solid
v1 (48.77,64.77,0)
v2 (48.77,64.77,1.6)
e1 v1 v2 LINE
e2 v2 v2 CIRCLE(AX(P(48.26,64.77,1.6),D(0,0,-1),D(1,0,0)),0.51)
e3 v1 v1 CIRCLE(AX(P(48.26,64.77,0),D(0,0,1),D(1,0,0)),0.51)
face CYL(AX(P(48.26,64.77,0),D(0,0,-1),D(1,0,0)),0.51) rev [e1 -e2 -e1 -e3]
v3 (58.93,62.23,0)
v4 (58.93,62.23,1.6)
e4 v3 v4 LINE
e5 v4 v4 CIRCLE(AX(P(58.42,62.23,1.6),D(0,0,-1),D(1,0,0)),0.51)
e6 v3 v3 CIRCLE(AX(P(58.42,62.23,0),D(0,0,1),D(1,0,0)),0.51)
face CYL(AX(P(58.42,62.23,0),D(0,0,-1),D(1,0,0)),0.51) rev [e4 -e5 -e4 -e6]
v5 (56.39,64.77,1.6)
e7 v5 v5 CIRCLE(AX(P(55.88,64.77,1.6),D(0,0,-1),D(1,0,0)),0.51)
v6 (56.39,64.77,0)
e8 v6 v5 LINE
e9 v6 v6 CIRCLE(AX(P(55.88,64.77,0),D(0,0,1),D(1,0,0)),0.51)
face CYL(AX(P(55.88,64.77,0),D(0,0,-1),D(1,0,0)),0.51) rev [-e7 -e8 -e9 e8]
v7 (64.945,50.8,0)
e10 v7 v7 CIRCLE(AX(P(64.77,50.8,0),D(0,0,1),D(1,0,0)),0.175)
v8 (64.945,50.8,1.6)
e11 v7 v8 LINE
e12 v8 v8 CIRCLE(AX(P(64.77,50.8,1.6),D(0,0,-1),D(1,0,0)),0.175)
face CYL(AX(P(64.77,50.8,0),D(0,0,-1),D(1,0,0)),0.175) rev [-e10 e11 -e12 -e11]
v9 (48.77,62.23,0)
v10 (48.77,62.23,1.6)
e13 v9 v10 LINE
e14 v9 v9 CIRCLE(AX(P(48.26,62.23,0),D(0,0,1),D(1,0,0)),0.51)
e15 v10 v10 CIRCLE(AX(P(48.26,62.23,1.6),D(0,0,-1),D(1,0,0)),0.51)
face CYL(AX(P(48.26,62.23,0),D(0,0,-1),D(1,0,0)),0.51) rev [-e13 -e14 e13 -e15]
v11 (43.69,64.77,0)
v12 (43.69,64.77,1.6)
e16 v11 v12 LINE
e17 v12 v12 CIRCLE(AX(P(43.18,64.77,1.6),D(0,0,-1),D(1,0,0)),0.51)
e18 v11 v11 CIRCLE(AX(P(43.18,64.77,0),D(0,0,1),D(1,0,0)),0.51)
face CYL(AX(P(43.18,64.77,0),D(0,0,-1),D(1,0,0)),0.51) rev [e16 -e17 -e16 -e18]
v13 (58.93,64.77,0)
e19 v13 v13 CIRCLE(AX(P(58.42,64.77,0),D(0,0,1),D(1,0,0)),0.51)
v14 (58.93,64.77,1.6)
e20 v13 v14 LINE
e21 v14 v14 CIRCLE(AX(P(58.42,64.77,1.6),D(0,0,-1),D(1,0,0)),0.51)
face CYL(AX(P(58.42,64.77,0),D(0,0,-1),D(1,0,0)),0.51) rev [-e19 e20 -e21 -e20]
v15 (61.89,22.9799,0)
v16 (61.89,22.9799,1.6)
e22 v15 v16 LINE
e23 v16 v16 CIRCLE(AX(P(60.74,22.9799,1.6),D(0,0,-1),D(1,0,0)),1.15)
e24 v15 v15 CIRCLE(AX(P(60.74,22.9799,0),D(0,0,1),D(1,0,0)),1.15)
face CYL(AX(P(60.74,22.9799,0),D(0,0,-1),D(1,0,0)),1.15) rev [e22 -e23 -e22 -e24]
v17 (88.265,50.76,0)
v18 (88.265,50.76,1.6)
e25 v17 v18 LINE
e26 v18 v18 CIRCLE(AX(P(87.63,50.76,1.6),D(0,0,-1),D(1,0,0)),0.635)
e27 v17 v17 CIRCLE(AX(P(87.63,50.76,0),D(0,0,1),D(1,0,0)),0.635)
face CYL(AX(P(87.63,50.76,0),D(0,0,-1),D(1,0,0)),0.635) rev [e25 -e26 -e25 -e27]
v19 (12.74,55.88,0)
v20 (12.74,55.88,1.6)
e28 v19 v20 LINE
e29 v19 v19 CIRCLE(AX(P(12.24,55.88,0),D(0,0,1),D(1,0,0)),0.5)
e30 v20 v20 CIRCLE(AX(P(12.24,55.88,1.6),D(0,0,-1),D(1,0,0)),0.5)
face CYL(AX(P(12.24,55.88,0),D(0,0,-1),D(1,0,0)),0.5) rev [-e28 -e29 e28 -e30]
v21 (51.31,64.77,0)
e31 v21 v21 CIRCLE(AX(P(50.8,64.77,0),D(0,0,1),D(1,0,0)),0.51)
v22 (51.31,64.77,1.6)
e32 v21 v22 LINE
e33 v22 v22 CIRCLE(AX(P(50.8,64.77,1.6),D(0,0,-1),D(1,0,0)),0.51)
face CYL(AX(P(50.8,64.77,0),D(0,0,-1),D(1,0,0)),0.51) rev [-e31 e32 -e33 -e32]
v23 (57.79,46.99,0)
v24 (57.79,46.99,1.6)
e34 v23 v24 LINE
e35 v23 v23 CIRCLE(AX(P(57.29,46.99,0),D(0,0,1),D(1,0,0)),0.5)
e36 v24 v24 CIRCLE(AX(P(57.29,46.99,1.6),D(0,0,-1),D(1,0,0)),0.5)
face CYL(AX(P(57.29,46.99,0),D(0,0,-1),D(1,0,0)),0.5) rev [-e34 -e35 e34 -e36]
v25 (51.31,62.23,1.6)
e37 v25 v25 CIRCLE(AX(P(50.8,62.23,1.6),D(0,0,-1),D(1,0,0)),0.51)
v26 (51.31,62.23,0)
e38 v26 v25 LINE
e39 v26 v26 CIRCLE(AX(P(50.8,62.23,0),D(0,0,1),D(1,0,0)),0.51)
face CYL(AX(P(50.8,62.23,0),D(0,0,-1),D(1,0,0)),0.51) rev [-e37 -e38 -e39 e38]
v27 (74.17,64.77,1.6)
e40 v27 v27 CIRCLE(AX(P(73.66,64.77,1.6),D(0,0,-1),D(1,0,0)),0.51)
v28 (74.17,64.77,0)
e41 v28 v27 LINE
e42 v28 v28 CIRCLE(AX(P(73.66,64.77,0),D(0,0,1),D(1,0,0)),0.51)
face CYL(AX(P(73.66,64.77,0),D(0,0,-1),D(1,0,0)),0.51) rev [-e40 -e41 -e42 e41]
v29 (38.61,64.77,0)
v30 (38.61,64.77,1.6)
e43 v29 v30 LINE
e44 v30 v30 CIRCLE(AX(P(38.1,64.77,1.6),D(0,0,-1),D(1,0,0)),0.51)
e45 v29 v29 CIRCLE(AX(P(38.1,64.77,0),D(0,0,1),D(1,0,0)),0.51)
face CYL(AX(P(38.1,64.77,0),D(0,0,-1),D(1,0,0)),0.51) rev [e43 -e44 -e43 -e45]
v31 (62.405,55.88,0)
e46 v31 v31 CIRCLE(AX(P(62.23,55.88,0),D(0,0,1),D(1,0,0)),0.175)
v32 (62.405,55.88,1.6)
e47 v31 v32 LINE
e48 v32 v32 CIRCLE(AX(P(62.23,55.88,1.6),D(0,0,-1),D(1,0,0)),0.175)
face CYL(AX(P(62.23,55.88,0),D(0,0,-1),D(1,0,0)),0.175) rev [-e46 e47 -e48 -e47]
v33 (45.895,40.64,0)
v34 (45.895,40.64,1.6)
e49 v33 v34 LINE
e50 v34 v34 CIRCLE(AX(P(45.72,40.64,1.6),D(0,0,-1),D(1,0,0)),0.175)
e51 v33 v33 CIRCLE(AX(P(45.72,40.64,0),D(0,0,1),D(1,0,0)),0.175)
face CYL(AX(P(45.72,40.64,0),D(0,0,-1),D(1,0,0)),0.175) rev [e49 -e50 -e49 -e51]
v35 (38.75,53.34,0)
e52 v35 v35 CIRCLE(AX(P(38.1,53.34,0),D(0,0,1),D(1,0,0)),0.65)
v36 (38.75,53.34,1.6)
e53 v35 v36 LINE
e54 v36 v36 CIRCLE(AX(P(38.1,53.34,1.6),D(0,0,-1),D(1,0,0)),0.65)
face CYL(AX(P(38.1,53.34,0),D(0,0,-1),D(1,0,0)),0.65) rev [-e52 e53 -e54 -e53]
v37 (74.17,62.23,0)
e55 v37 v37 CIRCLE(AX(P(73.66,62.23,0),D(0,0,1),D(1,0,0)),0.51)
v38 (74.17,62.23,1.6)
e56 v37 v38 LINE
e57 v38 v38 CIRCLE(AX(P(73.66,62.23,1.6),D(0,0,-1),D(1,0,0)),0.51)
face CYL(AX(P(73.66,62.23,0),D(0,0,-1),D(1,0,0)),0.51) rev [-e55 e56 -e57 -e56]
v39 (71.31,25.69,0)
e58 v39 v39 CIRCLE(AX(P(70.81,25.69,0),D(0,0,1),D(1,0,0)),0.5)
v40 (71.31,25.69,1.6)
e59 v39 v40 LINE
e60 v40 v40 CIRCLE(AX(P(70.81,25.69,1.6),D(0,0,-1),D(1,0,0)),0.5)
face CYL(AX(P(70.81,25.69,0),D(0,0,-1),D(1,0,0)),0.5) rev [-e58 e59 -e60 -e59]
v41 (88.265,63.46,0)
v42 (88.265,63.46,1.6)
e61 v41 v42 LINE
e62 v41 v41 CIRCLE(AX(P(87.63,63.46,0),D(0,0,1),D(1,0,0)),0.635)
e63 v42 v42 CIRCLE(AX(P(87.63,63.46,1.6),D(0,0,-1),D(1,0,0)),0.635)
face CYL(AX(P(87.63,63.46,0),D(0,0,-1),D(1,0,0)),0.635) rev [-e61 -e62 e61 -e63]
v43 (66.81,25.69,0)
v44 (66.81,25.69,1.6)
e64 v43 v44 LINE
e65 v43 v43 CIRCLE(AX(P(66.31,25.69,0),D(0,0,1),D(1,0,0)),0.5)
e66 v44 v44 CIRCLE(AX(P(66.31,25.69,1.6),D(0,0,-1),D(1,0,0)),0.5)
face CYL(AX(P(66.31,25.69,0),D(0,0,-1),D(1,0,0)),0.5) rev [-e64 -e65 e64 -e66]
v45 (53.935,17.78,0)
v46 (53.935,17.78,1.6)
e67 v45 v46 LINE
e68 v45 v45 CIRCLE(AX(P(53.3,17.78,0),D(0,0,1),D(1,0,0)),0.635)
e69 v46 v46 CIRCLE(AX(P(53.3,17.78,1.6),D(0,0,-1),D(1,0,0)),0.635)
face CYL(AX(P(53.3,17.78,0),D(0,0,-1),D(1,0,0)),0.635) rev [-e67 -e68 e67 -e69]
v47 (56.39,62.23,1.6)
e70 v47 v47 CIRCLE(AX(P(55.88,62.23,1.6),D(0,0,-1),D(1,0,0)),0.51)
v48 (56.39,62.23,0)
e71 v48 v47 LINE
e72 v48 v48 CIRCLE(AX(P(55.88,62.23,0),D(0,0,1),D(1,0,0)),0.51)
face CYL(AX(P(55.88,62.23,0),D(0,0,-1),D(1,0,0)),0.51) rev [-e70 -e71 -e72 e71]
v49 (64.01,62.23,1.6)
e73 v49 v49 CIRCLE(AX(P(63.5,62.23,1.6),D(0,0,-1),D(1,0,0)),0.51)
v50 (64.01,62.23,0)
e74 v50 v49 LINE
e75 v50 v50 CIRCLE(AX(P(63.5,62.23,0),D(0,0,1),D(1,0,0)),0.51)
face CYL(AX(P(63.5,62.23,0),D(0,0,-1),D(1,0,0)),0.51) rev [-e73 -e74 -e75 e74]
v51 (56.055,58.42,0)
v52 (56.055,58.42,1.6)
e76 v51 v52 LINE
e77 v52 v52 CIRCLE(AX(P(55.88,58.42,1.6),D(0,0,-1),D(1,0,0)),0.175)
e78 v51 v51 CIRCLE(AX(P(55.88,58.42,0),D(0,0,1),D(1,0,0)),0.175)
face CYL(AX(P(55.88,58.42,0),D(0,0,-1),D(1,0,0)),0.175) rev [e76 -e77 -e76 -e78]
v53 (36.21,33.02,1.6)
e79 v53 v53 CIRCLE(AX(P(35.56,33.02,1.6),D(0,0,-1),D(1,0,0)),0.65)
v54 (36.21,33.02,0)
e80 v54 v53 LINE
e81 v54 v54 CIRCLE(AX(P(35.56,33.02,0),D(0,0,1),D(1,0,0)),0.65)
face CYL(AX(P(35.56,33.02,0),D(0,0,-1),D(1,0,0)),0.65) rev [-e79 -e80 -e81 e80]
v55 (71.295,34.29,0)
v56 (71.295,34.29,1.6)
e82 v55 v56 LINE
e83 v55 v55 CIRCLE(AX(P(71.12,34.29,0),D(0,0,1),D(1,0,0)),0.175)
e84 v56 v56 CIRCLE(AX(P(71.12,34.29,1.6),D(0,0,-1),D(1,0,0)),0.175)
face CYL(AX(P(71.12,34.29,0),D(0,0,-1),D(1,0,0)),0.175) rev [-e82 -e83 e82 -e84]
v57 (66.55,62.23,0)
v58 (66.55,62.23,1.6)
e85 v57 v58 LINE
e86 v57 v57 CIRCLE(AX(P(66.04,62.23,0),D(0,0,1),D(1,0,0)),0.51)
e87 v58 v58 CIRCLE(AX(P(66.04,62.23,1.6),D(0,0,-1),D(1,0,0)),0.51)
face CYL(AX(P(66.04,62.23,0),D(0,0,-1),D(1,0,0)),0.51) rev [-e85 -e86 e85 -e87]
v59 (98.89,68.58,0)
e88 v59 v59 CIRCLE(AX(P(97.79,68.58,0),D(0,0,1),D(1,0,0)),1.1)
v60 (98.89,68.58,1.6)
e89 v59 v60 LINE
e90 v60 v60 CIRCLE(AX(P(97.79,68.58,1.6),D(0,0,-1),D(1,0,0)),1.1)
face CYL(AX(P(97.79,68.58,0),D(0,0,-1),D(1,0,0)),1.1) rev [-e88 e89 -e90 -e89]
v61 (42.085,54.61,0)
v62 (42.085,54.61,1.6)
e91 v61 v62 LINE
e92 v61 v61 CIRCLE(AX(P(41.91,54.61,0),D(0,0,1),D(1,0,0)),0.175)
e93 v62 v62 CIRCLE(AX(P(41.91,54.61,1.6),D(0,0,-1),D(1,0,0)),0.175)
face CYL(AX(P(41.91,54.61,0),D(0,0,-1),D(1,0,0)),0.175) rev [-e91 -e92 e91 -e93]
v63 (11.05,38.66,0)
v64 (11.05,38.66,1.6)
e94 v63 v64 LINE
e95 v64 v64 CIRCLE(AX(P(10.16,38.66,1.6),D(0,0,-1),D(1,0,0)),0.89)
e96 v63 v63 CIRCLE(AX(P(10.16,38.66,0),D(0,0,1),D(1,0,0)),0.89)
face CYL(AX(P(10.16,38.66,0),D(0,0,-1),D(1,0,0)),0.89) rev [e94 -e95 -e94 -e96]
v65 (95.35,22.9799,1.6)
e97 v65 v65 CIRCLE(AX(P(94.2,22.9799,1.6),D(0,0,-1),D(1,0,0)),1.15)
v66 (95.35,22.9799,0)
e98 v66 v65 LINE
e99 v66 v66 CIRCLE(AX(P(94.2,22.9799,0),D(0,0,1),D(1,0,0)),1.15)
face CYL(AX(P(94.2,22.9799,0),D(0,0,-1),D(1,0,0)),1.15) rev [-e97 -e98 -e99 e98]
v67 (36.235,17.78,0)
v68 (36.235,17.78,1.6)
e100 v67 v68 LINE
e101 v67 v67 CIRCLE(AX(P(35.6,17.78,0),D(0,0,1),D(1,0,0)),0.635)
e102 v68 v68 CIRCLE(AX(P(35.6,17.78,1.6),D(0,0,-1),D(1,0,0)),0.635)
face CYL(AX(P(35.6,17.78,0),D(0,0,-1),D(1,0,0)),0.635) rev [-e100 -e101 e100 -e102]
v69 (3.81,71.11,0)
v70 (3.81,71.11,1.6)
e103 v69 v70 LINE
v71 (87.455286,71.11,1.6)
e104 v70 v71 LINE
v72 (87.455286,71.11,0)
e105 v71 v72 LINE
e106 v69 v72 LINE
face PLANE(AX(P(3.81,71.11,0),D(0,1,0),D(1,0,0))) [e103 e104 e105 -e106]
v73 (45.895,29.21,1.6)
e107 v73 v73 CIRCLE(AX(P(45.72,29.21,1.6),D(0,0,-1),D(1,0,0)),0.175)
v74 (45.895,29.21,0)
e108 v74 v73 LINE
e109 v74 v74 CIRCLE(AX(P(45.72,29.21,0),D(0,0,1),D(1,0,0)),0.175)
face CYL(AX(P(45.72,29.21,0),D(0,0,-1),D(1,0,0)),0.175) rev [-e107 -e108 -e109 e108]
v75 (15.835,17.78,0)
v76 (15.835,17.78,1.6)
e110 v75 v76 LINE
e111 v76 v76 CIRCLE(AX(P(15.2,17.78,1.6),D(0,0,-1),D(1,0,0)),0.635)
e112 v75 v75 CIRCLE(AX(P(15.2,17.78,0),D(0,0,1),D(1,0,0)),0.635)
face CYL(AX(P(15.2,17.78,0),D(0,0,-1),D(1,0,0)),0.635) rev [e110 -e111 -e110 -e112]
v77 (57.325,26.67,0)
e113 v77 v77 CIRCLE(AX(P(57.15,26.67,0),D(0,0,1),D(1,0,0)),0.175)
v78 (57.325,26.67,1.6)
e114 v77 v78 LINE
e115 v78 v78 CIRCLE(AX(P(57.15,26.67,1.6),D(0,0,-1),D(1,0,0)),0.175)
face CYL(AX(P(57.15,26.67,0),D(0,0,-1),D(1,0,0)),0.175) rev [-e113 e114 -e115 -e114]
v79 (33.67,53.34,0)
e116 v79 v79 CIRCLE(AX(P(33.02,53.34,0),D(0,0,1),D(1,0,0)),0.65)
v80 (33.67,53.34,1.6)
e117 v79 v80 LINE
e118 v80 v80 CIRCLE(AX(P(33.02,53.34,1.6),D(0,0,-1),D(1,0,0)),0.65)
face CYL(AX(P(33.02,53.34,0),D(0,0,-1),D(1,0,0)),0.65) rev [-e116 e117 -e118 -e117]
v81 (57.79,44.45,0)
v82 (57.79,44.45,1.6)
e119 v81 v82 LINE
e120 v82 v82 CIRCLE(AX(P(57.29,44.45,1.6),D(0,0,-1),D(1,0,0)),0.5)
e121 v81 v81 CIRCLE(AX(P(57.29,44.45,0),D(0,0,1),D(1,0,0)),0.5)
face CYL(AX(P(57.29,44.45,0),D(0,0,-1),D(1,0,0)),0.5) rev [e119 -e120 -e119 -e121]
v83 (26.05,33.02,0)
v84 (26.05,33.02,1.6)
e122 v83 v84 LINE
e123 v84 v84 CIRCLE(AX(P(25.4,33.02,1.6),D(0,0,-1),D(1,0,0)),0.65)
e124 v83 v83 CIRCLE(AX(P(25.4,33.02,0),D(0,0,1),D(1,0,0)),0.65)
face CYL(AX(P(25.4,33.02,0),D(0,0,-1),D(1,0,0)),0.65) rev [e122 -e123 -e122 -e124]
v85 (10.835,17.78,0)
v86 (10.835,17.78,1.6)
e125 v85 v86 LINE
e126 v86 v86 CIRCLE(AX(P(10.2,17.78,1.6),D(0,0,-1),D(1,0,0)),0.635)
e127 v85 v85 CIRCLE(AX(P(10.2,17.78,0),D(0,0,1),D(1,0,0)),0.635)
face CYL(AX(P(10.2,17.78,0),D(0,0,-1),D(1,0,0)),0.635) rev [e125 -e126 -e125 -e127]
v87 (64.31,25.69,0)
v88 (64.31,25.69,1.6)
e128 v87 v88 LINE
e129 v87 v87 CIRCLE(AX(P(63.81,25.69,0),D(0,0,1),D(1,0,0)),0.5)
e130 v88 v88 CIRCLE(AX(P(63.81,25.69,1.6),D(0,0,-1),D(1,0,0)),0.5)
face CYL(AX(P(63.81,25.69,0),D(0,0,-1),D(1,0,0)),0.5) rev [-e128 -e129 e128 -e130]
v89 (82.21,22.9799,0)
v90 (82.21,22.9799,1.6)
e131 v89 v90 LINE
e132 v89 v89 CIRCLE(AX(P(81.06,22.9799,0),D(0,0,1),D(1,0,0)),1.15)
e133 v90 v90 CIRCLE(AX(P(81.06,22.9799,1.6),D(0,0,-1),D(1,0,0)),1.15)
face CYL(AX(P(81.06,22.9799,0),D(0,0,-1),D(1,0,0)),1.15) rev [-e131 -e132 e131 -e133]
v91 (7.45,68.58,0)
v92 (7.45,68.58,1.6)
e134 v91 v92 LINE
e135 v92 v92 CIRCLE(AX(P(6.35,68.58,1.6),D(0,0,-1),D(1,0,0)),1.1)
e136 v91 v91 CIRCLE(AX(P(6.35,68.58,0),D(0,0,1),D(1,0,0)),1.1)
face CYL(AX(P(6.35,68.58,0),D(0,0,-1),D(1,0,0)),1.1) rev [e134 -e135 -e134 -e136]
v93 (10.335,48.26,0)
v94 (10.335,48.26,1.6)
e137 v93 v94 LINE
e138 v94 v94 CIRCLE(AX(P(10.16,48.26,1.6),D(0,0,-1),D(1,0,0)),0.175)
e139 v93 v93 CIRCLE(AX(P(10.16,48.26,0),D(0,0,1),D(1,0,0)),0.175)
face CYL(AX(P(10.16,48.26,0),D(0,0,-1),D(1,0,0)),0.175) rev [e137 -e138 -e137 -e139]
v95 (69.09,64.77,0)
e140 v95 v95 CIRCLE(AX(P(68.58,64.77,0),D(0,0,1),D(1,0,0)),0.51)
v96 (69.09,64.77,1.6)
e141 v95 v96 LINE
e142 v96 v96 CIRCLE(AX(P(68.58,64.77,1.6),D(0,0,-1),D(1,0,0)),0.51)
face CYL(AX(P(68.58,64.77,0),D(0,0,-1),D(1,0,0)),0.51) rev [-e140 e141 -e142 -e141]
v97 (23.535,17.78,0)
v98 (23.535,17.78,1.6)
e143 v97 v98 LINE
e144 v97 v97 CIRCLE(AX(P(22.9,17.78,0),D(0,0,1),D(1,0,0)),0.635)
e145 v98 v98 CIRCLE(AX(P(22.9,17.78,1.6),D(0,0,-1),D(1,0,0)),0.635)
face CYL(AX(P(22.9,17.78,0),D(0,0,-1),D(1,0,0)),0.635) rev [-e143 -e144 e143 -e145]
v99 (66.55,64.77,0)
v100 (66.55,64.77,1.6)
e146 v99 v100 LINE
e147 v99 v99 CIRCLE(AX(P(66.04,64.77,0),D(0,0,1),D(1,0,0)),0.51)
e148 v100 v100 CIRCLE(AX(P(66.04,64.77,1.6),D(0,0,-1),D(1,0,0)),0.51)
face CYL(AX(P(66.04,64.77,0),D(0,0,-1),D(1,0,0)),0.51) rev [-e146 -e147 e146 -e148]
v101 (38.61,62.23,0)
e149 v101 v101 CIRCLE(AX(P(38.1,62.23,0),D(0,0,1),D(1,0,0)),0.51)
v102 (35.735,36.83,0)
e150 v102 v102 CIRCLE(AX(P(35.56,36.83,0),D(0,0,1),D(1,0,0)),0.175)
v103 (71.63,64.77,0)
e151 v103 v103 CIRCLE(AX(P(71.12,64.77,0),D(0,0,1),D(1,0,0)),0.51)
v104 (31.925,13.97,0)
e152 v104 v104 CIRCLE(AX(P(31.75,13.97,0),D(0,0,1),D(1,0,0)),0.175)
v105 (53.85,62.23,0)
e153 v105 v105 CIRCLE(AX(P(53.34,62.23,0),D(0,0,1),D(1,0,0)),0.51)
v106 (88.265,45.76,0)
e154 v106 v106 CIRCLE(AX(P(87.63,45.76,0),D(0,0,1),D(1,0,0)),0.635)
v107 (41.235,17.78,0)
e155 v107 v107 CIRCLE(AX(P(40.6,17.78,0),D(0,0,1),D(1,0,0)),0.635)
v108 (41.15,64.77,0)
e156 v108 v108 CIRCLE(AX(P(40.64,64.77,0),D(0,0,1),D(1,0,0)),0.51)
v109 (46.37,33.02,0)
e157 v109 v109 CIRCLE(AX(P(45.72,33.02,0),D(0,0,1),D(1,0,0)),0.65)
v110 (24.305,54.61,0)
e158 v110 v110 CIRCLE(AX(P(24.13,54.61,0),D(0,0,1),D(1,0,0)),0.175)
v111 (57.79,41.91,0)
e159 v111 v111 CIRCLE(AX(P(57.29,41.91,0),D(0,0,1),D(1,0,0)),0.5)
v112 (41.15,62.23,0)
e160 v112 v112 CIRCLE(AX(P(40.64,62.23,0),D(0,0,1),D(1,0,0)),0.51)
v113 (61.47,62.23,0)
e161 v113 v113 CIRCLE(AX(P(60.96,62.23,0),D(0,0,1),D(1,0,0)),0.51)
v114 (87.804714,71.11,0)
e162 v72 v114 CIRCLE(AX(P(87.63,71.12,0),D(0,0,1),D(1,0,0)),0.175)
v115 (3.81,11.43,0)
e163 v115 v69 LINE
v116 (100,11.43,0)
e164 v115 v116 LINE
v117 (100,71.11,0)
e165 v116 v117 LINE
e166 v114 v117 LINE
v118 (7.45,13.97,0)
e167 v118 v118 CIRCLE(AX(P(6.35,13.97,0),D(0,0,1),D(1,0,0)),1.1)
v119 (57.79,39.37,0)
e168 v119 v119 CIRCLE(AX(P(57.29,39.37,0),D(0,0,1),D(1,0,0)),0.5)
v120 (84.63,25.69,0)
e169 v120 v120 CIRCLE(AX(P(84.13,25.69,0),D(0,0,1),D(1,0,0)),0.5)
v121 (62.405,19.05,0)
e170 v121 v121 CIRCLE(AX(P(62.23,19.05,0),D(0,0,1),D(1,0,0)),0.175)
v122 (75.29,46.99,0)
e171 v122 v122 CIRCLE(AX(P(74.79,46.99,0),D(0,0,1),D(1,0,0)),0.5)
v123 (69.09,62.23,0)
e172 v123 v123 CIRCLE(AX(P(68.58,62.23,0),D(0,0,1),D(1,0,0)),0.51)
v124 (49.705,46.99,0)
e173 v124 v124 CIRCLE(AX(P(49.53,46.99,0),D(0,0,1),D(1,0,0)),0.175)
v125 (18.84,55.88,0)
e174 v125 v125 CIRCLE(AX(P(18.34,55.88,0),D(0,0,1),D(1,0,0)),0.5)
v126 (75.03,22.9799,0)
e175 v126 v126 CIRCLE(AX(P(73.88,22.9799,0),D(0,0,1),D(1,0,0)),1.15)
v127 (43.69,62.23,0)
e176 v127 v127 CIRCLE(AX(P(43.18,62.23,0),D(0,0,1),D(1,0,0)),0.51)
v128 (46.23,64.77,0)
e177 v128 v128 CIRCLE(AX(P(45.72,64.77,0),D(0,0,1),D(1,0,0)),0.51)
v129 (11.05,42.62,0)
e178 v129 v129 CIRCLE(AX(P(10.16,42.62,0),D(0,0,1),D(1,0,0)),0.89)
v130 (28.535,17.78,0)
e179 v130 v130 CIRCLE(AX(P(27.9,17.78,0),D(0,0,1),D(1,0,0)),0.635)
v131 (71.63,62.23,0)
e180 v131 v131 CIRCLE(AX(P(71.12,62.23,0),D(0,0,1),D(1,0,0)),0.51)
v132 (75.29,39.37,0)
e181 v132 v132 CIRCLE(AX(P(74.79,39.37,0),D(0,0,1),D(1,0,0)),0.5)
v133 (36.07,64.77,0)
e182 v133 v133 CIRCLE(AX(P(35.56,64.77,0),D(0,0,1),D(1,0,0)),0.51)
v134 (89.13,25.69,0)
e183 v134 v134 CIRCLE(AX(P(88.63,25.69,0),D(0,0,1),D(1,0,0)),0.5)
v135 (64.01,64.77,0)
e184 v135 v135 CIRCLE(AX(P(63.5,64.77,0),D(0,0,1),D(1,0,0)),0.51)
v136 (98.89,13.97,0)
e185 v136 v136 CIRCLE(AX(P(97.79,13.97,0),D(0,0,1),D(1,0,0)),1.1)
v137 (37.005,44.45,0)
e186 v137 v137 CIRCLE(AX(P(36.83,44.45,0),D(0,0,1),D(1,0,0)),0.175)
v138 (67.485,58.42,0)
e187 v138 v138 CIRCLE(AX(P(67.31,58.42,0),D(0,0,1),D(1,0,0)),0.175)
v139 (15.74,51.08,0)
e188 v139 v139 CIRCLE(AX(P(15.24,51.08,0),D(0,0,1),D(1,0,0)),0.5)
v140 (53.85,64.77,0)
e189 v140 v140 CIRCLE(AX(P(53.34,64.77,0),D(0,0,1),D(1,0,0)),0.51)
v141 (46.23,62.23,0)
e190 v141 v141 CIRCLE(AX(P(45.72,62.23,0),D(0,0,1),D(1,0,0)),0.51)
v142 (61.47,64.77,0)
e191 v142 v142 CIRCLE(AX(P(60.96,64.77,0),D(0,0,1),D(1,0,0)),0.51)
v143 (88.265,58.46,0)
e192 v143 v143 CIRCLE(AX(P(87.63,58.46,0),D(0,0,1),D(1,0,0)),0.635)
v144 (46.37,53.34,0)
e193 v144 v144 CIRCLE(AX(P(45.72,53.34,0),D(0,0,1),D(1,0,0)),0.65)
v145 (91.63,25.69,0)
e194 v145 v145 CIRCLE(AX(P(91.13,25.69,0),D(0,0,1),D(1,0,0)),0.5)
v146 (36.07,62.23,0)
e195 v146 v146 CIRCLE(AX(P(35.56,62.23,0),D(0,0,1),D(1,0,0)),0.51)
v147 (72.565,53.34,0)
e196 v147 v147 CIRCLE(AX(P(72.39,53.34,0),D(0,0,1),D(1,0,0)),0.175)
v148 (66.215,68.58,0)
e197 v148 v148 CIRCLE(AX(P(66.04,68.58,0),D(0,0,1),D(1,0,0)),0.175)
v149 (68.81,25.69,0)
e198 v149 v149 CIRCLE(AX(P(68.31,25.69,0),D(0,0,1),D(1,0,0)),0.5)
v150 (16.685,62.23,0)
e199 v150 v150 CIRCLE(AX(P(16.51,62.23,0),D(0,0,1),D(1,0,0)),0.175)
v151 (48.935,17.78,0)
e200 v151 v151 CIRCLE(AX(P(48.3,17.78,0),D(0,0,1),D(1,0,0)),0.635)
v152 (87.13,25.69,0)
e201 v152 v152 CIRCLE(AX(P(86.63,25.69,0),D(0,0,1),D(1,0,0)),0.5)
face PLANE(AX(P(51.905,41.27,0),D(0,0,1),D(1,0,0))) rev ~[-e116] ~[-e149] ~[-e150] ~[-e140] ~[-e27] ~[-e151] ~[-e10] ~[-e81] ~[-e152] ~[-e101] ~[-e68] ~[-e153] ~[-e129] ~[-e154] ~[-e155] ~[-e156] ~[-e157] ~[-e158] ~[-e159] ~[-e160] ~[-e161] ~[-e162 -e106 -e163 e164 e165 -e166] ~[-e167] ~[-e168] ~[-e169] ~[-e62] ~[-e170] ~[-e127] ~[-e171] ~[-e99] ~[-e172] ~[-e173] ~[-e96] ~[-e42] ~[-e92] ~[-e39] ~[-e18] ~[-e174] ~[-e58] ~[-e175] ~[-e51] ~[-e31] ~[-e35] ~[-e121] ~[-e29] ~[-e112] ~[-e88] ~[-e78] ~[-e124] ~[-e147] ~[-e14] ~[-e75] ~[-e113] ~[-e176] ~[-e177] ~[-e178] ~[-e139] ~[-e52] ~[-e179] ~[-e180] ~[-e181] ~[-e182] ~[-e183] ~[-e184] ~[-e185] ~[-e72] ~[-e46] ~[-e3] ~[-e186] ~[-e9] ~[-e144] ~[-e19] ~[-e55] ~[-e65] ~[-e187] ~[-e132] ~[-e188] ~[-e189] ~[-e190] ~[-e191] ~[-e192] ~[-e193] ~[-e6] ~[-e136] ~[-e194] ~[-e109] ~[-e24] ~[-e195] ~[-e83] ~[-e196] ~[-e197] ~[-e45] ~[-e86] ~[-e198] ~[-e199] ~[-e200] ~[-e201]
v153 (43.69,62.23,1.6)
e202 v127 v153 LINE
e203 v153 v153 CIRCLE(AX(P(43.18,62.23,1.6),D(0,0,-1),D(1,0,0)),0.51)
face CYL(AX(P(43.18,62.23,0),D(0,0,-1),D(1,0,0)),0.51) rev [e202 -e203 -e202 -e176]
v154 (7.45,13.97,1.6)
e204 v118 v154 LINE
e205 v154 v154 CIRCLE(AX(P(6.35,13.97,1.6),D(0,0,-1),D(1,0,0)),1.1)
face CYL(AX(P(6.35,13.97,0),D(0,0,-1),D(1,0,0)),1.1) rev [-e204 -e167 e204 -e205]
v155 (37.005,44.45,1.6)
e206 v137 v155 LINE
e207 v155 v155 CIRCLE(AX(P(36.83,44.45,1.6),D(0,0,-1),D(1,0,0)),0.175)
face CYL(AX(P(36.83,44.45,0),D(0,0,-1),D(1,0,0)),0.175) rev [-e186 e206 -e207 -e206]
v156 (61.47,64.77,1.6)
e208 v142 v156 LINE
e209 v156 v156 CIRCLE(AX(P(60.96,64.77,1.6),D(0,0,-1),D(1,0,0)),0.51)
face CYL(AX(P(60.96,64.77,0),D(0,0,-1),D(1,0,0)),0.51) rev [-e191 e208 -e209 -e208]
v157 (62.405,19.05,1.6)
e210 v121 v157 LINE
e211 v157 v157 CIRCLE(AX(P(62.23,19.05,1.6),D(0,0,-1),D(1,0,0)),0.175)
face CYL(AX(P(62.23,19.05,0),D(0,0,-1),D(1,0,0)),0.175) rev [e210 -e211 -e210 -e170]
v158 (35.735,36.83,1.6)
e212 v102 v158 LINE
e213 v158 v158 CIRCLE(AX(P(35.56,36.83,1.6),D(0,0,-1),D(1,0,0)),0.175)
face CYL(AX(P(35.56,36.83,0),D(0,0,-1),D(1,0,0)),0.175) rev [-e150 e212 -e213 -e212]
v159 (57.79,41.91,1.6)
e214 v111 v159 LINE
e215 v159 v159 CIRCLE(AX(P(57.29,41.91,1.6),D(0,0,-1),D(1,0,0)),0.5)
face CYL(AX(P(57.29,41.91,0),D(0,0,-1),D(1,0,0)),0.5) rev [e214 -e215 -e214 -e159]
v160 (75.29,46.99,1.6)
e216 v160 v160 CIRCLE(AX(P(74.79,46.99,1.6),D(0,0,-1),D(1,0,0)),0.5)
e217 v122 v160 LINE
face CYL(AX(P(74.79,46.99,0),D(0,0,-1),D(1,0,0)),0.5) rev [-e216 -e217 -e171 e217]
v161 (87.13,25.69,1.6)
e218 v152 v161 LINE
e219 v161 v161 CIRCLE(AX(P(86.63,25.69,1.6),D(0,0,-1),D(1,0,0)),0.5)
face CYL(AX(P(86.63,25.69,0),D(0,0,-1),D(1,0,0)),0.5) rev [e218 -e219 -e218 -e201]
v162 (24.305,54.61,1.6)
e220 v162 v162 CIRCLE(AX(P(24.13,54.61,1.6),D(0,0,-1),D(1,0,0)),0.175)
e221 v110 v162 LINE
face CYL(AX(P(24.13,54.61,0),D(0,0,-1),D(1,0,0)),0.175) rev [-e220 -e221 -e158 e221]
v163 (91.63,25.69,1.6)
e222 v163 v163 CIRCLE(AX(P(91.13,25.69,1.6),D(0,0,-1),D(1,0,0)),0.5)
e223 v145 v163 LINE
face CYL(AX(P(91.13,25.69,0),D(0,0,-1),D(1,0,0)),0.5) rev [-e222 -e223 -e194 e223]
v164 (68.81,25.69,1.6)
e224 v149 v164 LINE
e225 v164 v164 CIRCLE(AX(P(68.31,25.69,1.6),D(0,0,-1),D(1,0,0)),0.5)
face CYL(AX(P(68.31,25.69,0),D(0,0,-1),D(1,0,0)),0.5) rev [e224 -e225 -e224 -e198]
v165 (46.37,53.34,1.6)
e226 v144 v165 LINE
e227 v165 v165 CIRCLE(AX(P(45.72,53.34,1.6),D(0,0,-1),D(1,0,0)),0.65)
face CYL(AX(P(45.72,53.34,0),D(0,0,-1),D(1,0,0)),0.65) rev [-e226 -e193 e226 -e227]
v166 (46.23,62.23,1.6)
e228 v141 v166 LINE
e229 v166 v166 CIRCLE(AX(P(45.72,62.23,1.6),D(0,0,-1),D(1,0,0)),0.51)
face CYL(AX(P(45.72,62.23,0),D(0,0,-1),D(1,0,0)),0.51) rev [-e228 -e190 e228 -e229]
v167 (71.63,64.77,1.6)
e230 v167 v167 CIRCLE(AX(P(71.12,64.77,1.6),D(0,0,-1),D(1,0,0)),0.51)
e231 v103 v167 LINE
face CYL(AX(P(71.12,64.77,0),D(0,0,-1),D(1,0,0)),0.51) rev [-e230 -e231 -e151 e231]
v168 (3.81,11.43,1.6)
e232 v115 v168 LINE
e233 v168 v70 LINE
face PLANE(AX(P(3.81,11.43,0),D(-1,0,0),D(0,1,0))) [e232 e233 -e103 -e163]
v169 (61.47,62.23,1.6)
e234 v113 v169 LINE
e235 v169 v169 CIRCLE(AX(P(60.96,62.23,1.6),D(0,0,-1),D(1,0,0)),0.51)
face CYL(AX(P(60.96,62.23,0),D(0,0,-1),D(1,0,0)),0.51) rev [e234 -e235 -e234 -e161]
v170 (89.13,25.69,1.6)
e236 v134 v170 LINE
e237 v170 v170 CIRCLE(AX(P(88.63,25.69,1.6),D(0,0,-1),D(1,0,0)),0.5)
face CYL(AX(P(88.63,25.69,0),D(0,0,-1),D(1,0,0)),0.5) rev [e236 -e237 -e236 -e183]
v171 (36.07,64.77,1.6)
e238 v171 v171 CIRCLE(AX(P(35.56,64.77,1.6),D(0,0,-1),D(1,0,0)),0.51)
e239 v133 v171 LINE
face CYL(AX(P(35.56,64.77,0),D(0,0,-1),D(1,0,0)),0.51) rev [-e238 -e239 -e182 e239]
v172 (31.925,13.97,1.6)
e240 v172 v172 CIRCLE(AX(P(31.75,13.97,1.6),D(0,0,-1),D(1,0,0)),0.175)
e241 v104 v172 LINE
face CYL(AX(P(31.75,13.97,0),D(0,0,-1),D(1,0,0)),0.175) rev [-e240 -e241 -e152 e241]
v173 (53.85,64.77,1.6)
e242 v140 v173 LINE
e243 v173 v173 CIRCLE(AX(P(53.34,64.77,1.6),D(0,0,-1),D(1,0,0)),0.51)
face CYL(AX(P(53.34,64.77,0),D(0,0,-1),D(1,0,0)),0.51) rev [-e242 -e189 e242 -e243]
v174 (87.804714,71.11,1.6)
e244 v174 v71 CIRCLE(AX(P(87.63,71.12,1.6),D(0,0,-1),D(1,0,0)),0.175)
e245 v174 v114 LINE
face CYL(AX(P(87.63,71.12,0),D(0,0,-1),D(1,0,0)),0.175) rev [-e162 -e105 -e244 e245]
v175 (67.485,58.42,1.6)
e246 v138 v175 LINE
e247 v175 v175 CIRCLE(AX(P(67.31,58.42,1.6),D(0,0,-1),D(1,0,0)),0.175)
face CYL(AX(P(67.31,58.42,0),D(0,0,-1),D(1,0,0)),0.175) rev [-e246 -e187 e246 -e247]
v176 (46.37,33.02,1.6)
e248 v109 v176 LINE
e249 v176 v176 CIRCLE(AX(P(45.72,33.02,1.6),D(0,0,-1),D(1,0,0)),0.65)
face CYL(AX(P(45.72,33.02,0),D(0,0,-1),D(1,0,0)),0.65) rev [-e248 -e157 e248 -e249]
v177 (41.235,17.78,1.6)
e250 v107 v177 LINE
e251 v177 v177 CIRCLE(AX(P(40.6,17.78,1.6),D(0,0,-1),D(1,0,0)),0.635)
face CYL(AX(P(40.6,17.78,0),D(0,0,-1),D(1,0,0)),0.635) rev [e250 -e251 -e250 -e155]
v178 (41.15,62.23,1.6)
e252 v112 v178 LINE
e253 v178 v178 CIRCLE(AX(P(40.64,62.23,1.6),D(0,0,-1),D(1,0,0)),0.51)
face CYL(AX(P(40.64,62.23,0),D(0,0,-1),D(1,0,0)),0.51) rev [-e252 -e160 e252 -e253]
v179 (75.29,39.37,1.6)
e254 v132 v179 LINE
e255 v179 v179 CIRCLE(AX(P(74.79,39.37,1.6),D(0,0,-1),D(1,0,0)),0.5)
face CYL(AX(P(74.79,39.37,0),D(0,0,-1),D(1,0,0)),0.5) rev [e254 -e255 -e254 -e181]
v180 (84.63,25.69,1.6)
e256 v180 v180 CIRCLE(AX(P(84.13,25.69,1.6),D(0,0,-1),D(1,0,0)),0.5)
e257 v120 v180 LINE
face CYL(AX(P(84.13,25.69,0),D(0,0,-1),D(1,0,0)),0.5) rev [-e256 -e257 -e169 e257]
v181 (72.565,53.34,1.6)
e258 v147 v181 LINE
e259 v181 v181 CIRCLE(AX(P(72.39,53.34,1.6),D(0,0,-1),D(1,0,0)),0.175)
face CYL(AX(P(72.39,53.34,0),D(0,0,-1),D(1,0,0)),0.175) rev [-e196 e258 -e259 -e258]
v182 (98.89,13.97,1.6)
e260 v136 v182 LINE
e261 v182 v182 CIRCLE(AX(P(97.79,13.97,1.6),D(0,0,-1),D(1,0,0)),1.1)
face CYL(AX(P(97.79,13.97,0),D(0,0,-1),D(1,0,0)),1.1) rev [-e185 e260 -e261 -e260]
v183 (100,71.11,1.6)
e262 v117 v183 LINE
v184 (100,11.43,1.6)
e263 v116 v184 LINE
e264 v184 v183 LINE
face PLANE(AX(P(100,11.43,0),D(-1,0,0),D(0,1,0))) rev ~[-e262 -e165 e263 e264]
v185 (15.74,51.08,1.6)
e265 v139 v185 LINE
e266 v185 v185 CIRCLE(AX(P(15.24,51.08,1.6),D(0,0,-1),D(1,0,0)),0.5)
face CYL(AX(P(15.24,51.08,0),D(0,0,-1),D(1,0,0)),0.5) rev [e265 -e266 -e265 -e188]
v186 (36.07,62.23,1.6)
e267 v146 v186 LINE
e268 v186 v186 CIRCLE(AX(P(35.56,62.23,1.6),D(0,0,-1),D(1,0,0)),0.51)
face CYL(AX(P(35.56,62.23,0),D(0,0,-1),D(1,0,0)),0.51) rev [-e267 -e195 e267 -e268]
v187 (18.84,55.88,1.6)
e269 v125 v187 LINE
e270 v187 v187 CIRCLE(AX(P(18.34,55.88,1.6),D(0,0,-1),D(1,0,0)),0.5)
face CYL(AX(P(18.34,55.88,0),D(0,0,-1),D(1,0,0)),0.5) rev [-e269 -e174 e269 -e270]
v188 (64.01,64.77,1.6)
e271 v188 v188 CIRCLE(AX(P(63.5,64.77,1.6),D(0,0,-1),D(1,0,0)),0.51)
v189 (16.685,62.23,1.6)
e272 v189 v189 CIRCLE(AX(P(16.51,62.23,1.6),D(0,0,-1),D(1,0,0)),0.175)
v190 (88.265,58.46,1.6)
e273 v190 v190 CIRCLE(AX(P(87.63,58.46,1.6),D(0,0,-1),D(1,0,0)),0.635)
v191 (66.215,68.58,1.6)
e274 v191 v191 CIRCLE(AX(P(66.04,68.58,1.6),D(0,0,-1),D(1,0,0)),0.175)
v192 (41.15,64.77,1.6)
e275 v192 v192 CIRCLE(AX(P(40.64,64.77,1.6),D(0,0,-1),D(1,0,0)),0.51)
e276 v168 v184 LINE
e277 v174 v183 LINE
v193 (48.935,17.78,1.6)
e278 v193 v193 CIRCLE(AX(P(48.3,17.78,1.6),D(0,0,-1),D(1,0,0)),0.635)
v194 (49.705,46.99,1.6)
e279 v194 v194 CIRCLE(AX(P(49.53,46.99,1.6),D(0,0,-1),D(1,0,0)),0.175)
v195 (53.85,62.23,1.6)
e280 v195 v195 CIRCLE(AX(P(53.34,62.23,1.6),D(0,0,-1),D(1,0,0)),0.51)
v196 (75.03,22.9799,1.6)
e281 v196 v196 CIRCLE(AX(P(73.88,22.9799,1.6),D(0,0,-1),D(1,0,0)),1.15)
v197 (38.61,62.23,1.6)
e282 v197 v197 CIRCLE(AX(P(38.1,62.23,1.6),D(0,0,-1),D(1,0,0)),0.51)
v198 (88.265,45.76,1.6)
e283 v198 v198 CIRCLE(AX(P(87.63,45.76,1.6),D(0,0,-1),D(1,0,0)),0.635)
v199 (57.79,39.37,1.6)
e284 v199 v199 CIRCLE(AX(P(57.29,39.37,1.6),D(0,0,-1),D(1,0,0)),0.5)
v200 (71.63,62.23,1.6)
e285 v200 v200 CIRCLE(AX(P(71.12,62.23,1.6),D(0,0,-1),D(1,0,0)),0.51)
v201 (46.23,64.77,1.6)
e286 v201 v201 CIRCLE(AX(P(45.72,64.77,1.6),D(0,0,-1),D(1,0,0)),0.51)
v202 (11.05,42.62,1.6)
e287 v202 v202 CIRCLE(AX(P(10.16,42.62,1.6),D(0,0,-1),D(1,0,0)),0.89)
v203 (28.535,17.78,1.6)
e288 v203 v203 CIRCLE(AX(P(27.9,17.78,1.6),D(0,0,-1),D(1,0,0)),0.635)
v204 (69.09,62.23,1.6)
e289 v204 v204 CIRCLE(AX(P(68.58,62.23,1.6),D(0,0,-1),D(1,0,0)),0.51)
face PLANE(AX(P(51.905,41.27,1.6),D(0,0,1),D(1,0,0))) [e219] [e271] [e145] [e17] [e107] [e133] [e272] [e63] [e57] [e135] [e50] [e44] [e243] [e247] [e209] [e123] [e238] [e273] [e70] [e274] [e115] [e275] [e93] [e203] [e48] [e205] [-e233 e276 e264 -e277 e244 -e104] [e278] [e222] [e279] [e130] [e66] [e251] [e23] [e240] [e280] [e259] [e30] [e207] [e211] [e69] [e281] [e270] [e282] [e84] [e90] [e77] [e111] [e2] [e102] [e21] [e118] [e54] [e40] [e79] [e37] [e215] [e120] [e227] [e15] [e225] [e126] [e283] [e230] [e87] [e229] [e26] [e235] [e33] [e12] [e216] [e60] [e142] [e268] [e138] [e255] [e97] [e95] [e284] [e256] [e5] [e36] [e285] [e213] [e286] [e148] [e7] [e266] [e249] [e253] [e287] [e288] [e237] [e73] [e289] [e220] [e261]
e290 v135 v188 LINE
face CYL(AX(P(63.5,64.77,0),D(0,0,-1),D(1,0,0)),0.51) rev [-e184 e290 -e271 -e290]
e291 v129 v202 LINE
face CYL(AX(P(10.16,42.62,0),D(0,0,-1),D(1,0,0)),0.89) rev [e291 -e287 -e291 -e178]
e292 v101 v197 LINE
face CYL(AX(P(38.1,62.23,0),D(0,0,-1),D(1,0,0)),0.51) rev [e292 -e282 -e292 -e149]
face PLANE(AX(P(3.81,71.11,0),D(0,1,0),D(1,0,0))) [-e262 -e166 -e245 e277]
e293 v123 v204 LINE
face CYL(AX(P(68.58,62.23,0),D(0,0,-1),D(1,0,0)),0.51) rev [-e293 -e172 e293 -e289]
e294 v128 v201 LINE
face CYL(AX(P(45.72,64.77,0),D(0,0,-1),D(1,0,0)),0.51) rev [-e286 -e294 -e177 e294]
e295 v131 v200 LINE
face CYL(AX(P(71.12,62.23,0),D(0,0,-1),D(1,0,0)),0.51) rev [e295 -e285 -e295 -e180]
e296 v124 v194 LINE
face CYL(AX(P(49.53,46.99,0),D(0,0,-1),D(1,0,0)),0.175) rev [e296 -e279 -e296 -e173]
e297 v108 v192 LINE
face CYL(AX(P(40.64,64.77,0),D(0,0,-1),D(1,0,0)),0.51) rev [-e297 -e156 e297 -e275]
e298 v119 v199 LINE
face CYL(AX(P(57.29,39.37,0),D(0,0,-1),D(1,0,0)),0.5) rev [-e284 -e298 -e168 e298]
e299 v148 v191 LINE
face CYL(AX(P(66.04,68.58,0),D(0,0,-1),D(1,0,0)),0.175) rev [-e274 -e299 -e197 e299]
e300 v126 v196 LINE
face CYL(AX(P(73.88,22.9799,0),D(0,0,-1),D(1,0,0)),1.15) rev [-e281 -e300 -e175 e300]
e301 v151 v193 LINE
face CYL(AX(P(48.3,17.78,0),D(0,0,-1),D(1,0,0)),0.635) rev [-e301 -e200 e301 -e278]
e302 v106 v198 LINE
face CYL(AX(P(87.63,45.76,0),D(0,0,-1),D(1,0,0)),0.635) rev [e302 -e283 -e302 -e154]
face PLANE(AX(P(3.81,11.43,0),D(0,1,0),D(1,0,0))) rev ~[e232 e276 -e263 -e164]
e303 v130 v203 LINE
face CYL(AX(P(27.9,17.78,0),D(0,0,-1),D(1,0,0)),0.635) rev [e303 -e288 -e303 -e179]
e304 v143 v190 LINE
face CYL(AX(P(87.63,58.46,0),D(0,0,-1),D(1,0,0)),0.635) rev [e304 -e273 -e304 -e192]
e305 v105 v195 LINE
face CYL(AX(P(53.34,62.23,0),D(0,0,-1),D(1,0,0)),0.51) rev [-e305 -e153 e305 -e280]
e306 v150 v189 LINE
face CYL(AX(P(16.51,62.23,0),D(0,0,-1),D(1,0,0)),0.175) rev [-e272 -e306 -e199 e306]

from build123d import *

# Parameters (mm, degrees)
SKETCH1_W           = 96.19
SKETCH1_H           = 59.68
BOARD_OUTLINE_DEPTH = 1.6
SKETCH2_R           = 1.1
SKETCH2_R_2         = 1.15
SKETCH2_R_3         = 0.175
NPTH_DEPTH          = 2.6
SKETCH3_R           = 0.5
SKETCH3_R_2         = 0.89
SKETCH3_R_3         = 0.635
SKETCH3_R_4         = 0.51
SKETCH3_R_5         = 0.65
PTH_DEPTH           = 2.6


with BuildPart() as part:
    # Sketch1 → Board_Outline (new body)
    with BuildSketch(Plane.XY):
        with Locations((51.905, 41.27)):
            Rectangle(SKETCH1_W, SKETCH1_H)
    extrude(amount=BOARD_OUTLINE_DEPTH)

    # Sketch2 → NPTH (cut, through all)
    with BuildSketch(Plane.XY):
        with Locations((6.35, 13.97)):
            Circle(SKETCH2_R)
        with Locations((6.35, 68.58)):
            Circle(SKETCH2_R)
        with Locations((97.79, 68.58)):
            Circle(SKETCH2_R)
        with Locations((97.79, 13.97)):
            Circle(SKETCH2_R)
        with Locations((81.06, 22.9799)):
            Circle(SKETCH2_R_2)
        with Locations((94.2, 22.9799)):
            Circle(SKETCH2_R_2)
        with Locations((60.74, 22.9799)):
            Circle(SKETCH2_R_2)
        with Locations((73.88, 22.9799)):
            Circle(SKETCH2_R_2)
        with Locations((62.23, 55.88)):
            Circle(SKETCH2_R_3)
        with Locations((71.12, 34.29)):
            Circle(SKETCH2_R_3)
        with Locations((36.83, 44.45)):
            Circle(SKETCH2_R_3)
        with Locations((41.91, 54.61)):
            Circle(SKETCH2_R_3)
        with Locations((45.72, 29.21)):
            Circle(SKETCH2_R_3)
        with Locations((62.23, 19.05)):
            Circle(SKETCH2_R_3)
        with Locations((31.75, 13.97)):
            Circle(SKETCH2_R_3)
        with Locations((55.88, 58.42)):
            Circle(SKETCH2_R_3)
        with Locations((16.51, 62.23)):
            Circle(SKETCH2_R_3)
        with Locations((24.13, 54.61)):
            Circle(SKETCH2_R_3)
        with Locations((45.72, 40.64)):
            Circle(SKETCH2_R_3)
        with Locations((49.53, 46.99)):
            Circle(SKETCH2_R_3)
        with Locations((57.15, 26.67)):
            Circle(SKETCH2_R_3)
        with Locations((10.16, 48.26)):
            Circle(SKETCH2_R_3)
        with Locations((66.04, 68.58)):
            Circle(SKETCH2_R_3)
        with Locations((87.63, 71.12)):
            Circle(SKETCH2_R_3)
        with Locations((72.39, 53.34)):
            Circle(SKETCH2_R_3)
        with Locations((67.31, 58.42)):
            Circle(SKETCH2_R_3)
        with Locations((64.77, 50.8)):
            Circle(SKETCH2_R_3)
        with Locations((35.56, 36.83)):
            Circle(SKETCH2_R_3)
    extrude(amount=NPTH_DEPTH, mode=Mode.SUBTRACT)

    # Sketch3 → PTH (cut, through all)
    with BuildSketch(Plane.XY):
        with Locations((18.34, 55.88)):
            Circle(SKETCH3_R)
        with Locations((15.24, 51.08)):
            Circle(SKETCH3_R)
        with Locations((12.24, 55.88)):
            Circle(SKETCH3_R)
        with Locations((10.16, 38.66)):
            Circle(SKETCH3_R_2)
        with Locations((10.16, 42.62)):
            Circle(SKETCH3_R_2)
        with Locations((87.63, 58.46)):
            Circle(SKETCH3_R_3)
        with Locations((87.63, 63.46)):
            Circle(SKETCH3_R_3)
        with Locations((57.29, 46.99)):
            Circle(SKETCH3_R)
        with Locations((57.29, 44.45)):
            Circle(SKETCH3_R)
        with Locations((57.29, 41.91)):
            Circle(SKETCH3_R)
        with Locations((57.29, 39.37)):
            Circle(SKETCH3_R)
        with Locations((74.79, 39.37)):
            Circle(SKETCH3_R)
        with Locations((74.79, 46.99)):
            Circle(SKETCH3_R)
        with Locations((87.63, 45.76)):
            Circle(SKETCH3_R_3)
        with Locations((87.63, 50.76)):
            Circle(SKETCH3_R_3)
        with Locations((35.56, 64.77)):
            Circle(SKETCH3_R_4)
        with Locations((35.56, 62.23)):
            Circle(SKETCH3_R_4)
        with Locations((38.1, 64.77)):
            Circle(SKETCH3_R_4)
        with Locations((38.1, 62.23)):
            Circle(SKETCH3_R_4)
        with Locations((40.64, 64.77)):
            Circle(SKETCH3_R_4)
        with Locations((40.64, 62.23)):
            Circle(SKETCH3_R_4)
        with Locations((43.18, 64.77)):
            Circle(SKETCH3_R_4)
        with Locations((43.18, 62.23)):
            Circle(SKETCH3_R_4)
        with Locations((45.72, 64.77)):
            Circle(SKETCH3_R_4)
        with Locations((45.72, 62.23)):
            Circle(SKETCH3_R_4)
        with Locations((48.26, 64.77)):
            Circle(SKETCH3_R_4)
        with Locations((48.26, 62.23)):
            Circle(SKETCH3_R_4)
        with Locations((50.8, 64.77)):
            Circle(SKETCH3_R_4)
        with Locations((50.8, 62.23)):
            Circle(SKETCH3_R_4)
        with Locations((53.34, 64.77)):
            Circle(SKETCH3_R_4)
        with Locations((53.34, 62.23)):
            Circle(SKETCH3_R_4)
        with Locations((55.88, 64.77)):
            Circle(SKETCH3_R_4)
        with Locations((55.88, 62.23)):
            Circle(SKETCH3_R_4)
        with Locations((58.42, 64.77)):
            Circle(SKETCH3_R_4)
        with Locations((58.42, 62.23)):
            Circle(SKETCH3_R_4)
        with Locations((60.96, 64.77)):
            Circle(SKETCH3_R_4)
        with Locations((60.96, 62.23)):
            Circle(SKETCH3_R_4)
        with Locations((63.5, 64.77)):
            Circle(SKETCH3_R_4)
        with Locations((63.5, 62.23)):
            Circle(SKETCH3_R_4)
        with Locations((66.04, 64.77)):
            Circle(SKETCH3_R_4)
        with Locations((66.04, 62.23)):
            Circle(SKETCH3_R_4)
        with Locations((68.58, 64.77)):
            Circle(SKETCH3_R_4)
        with Locations((68.58, 62.23)):
            Circle(SKETCH3_R_4)
        with Locations((71.12, 64.77)):
            Circle(SKETCH3_R_4)
        with Locations((71.12, 62.23)):
            Circle(SKETCH3_R_4)
        with Locations((73.66, 64.77)):
            Circle(SKETCH3_R_4)
        with Locations((73.66, 62.23)):
            Circle(SKETCH3_R_4)
        with Locations((40.6, 17.78)):
            Circle(SKETCH3_R_3)
        with Locations((35.6, 17.78)):
            Circle(SKETCH3_R_3)
        with Locations((15.2, 17.78)):
            Circle(SKETCH3_R_3)
        with Locations((10.2, 17.78)):
            Circle(SKETCH3_R_3)
        with Locations((27.9, 17.78)):
            Circle(SKETCH3_R_3)
        with Locations((22.9, 17.78)):
            Circle(SKETCH3_R_3)
        with Locations((53.3, 17.78)):
            Circle(SKETCH3_R_3)
        with Locations((48.3, 17.78)):
            Circle(SKETCH3_R_3)
        with Locations((33.02, 53.34)):
            Circle(SKETCH3_R_5)
        with Locations((25.4, 33.02)):
            Circle(SKETCH3_R_5)
        with Locations((38.1, 53.34)):
            Circle(SKETCH3_R_5)
        with Locations((45.72, 33.02)):
            Circle(SKETCH3_R_5)
        with Locations((45.72, 53.34)):
            Circle(SKETCH3_R_5)
        with Locations((35.56, 33.02)):
            Circle(SKETCH3_R_5)
        with Locations((84.13, 25.69)):
            Circle(SKETCH3_R)
        with Locations((86.63, 25.69)):
            Circle(SKETCH3_R)
        with Locations((88.63, 25.69)):
            Circle(SKETCH3_R)
        with Locations((91.13, 25.69)):
            Circle(SKETCH3_R)
        with Locations((63.81, 25.69)):
            Circle(SKETCH3_R)
        with Locations((66.31, 25.69)):
            Circle(SKETCH3_R)
        with Locations((68.31, 25.69)):
            Circle(SKETCH3_R)
        with Locations((70.81, 25.69)):
            Circle(SKETCH3_R)
    extrude(amount=PTH_DEPTH, mode=Mode.SUBTRACT)


solid = part.part
